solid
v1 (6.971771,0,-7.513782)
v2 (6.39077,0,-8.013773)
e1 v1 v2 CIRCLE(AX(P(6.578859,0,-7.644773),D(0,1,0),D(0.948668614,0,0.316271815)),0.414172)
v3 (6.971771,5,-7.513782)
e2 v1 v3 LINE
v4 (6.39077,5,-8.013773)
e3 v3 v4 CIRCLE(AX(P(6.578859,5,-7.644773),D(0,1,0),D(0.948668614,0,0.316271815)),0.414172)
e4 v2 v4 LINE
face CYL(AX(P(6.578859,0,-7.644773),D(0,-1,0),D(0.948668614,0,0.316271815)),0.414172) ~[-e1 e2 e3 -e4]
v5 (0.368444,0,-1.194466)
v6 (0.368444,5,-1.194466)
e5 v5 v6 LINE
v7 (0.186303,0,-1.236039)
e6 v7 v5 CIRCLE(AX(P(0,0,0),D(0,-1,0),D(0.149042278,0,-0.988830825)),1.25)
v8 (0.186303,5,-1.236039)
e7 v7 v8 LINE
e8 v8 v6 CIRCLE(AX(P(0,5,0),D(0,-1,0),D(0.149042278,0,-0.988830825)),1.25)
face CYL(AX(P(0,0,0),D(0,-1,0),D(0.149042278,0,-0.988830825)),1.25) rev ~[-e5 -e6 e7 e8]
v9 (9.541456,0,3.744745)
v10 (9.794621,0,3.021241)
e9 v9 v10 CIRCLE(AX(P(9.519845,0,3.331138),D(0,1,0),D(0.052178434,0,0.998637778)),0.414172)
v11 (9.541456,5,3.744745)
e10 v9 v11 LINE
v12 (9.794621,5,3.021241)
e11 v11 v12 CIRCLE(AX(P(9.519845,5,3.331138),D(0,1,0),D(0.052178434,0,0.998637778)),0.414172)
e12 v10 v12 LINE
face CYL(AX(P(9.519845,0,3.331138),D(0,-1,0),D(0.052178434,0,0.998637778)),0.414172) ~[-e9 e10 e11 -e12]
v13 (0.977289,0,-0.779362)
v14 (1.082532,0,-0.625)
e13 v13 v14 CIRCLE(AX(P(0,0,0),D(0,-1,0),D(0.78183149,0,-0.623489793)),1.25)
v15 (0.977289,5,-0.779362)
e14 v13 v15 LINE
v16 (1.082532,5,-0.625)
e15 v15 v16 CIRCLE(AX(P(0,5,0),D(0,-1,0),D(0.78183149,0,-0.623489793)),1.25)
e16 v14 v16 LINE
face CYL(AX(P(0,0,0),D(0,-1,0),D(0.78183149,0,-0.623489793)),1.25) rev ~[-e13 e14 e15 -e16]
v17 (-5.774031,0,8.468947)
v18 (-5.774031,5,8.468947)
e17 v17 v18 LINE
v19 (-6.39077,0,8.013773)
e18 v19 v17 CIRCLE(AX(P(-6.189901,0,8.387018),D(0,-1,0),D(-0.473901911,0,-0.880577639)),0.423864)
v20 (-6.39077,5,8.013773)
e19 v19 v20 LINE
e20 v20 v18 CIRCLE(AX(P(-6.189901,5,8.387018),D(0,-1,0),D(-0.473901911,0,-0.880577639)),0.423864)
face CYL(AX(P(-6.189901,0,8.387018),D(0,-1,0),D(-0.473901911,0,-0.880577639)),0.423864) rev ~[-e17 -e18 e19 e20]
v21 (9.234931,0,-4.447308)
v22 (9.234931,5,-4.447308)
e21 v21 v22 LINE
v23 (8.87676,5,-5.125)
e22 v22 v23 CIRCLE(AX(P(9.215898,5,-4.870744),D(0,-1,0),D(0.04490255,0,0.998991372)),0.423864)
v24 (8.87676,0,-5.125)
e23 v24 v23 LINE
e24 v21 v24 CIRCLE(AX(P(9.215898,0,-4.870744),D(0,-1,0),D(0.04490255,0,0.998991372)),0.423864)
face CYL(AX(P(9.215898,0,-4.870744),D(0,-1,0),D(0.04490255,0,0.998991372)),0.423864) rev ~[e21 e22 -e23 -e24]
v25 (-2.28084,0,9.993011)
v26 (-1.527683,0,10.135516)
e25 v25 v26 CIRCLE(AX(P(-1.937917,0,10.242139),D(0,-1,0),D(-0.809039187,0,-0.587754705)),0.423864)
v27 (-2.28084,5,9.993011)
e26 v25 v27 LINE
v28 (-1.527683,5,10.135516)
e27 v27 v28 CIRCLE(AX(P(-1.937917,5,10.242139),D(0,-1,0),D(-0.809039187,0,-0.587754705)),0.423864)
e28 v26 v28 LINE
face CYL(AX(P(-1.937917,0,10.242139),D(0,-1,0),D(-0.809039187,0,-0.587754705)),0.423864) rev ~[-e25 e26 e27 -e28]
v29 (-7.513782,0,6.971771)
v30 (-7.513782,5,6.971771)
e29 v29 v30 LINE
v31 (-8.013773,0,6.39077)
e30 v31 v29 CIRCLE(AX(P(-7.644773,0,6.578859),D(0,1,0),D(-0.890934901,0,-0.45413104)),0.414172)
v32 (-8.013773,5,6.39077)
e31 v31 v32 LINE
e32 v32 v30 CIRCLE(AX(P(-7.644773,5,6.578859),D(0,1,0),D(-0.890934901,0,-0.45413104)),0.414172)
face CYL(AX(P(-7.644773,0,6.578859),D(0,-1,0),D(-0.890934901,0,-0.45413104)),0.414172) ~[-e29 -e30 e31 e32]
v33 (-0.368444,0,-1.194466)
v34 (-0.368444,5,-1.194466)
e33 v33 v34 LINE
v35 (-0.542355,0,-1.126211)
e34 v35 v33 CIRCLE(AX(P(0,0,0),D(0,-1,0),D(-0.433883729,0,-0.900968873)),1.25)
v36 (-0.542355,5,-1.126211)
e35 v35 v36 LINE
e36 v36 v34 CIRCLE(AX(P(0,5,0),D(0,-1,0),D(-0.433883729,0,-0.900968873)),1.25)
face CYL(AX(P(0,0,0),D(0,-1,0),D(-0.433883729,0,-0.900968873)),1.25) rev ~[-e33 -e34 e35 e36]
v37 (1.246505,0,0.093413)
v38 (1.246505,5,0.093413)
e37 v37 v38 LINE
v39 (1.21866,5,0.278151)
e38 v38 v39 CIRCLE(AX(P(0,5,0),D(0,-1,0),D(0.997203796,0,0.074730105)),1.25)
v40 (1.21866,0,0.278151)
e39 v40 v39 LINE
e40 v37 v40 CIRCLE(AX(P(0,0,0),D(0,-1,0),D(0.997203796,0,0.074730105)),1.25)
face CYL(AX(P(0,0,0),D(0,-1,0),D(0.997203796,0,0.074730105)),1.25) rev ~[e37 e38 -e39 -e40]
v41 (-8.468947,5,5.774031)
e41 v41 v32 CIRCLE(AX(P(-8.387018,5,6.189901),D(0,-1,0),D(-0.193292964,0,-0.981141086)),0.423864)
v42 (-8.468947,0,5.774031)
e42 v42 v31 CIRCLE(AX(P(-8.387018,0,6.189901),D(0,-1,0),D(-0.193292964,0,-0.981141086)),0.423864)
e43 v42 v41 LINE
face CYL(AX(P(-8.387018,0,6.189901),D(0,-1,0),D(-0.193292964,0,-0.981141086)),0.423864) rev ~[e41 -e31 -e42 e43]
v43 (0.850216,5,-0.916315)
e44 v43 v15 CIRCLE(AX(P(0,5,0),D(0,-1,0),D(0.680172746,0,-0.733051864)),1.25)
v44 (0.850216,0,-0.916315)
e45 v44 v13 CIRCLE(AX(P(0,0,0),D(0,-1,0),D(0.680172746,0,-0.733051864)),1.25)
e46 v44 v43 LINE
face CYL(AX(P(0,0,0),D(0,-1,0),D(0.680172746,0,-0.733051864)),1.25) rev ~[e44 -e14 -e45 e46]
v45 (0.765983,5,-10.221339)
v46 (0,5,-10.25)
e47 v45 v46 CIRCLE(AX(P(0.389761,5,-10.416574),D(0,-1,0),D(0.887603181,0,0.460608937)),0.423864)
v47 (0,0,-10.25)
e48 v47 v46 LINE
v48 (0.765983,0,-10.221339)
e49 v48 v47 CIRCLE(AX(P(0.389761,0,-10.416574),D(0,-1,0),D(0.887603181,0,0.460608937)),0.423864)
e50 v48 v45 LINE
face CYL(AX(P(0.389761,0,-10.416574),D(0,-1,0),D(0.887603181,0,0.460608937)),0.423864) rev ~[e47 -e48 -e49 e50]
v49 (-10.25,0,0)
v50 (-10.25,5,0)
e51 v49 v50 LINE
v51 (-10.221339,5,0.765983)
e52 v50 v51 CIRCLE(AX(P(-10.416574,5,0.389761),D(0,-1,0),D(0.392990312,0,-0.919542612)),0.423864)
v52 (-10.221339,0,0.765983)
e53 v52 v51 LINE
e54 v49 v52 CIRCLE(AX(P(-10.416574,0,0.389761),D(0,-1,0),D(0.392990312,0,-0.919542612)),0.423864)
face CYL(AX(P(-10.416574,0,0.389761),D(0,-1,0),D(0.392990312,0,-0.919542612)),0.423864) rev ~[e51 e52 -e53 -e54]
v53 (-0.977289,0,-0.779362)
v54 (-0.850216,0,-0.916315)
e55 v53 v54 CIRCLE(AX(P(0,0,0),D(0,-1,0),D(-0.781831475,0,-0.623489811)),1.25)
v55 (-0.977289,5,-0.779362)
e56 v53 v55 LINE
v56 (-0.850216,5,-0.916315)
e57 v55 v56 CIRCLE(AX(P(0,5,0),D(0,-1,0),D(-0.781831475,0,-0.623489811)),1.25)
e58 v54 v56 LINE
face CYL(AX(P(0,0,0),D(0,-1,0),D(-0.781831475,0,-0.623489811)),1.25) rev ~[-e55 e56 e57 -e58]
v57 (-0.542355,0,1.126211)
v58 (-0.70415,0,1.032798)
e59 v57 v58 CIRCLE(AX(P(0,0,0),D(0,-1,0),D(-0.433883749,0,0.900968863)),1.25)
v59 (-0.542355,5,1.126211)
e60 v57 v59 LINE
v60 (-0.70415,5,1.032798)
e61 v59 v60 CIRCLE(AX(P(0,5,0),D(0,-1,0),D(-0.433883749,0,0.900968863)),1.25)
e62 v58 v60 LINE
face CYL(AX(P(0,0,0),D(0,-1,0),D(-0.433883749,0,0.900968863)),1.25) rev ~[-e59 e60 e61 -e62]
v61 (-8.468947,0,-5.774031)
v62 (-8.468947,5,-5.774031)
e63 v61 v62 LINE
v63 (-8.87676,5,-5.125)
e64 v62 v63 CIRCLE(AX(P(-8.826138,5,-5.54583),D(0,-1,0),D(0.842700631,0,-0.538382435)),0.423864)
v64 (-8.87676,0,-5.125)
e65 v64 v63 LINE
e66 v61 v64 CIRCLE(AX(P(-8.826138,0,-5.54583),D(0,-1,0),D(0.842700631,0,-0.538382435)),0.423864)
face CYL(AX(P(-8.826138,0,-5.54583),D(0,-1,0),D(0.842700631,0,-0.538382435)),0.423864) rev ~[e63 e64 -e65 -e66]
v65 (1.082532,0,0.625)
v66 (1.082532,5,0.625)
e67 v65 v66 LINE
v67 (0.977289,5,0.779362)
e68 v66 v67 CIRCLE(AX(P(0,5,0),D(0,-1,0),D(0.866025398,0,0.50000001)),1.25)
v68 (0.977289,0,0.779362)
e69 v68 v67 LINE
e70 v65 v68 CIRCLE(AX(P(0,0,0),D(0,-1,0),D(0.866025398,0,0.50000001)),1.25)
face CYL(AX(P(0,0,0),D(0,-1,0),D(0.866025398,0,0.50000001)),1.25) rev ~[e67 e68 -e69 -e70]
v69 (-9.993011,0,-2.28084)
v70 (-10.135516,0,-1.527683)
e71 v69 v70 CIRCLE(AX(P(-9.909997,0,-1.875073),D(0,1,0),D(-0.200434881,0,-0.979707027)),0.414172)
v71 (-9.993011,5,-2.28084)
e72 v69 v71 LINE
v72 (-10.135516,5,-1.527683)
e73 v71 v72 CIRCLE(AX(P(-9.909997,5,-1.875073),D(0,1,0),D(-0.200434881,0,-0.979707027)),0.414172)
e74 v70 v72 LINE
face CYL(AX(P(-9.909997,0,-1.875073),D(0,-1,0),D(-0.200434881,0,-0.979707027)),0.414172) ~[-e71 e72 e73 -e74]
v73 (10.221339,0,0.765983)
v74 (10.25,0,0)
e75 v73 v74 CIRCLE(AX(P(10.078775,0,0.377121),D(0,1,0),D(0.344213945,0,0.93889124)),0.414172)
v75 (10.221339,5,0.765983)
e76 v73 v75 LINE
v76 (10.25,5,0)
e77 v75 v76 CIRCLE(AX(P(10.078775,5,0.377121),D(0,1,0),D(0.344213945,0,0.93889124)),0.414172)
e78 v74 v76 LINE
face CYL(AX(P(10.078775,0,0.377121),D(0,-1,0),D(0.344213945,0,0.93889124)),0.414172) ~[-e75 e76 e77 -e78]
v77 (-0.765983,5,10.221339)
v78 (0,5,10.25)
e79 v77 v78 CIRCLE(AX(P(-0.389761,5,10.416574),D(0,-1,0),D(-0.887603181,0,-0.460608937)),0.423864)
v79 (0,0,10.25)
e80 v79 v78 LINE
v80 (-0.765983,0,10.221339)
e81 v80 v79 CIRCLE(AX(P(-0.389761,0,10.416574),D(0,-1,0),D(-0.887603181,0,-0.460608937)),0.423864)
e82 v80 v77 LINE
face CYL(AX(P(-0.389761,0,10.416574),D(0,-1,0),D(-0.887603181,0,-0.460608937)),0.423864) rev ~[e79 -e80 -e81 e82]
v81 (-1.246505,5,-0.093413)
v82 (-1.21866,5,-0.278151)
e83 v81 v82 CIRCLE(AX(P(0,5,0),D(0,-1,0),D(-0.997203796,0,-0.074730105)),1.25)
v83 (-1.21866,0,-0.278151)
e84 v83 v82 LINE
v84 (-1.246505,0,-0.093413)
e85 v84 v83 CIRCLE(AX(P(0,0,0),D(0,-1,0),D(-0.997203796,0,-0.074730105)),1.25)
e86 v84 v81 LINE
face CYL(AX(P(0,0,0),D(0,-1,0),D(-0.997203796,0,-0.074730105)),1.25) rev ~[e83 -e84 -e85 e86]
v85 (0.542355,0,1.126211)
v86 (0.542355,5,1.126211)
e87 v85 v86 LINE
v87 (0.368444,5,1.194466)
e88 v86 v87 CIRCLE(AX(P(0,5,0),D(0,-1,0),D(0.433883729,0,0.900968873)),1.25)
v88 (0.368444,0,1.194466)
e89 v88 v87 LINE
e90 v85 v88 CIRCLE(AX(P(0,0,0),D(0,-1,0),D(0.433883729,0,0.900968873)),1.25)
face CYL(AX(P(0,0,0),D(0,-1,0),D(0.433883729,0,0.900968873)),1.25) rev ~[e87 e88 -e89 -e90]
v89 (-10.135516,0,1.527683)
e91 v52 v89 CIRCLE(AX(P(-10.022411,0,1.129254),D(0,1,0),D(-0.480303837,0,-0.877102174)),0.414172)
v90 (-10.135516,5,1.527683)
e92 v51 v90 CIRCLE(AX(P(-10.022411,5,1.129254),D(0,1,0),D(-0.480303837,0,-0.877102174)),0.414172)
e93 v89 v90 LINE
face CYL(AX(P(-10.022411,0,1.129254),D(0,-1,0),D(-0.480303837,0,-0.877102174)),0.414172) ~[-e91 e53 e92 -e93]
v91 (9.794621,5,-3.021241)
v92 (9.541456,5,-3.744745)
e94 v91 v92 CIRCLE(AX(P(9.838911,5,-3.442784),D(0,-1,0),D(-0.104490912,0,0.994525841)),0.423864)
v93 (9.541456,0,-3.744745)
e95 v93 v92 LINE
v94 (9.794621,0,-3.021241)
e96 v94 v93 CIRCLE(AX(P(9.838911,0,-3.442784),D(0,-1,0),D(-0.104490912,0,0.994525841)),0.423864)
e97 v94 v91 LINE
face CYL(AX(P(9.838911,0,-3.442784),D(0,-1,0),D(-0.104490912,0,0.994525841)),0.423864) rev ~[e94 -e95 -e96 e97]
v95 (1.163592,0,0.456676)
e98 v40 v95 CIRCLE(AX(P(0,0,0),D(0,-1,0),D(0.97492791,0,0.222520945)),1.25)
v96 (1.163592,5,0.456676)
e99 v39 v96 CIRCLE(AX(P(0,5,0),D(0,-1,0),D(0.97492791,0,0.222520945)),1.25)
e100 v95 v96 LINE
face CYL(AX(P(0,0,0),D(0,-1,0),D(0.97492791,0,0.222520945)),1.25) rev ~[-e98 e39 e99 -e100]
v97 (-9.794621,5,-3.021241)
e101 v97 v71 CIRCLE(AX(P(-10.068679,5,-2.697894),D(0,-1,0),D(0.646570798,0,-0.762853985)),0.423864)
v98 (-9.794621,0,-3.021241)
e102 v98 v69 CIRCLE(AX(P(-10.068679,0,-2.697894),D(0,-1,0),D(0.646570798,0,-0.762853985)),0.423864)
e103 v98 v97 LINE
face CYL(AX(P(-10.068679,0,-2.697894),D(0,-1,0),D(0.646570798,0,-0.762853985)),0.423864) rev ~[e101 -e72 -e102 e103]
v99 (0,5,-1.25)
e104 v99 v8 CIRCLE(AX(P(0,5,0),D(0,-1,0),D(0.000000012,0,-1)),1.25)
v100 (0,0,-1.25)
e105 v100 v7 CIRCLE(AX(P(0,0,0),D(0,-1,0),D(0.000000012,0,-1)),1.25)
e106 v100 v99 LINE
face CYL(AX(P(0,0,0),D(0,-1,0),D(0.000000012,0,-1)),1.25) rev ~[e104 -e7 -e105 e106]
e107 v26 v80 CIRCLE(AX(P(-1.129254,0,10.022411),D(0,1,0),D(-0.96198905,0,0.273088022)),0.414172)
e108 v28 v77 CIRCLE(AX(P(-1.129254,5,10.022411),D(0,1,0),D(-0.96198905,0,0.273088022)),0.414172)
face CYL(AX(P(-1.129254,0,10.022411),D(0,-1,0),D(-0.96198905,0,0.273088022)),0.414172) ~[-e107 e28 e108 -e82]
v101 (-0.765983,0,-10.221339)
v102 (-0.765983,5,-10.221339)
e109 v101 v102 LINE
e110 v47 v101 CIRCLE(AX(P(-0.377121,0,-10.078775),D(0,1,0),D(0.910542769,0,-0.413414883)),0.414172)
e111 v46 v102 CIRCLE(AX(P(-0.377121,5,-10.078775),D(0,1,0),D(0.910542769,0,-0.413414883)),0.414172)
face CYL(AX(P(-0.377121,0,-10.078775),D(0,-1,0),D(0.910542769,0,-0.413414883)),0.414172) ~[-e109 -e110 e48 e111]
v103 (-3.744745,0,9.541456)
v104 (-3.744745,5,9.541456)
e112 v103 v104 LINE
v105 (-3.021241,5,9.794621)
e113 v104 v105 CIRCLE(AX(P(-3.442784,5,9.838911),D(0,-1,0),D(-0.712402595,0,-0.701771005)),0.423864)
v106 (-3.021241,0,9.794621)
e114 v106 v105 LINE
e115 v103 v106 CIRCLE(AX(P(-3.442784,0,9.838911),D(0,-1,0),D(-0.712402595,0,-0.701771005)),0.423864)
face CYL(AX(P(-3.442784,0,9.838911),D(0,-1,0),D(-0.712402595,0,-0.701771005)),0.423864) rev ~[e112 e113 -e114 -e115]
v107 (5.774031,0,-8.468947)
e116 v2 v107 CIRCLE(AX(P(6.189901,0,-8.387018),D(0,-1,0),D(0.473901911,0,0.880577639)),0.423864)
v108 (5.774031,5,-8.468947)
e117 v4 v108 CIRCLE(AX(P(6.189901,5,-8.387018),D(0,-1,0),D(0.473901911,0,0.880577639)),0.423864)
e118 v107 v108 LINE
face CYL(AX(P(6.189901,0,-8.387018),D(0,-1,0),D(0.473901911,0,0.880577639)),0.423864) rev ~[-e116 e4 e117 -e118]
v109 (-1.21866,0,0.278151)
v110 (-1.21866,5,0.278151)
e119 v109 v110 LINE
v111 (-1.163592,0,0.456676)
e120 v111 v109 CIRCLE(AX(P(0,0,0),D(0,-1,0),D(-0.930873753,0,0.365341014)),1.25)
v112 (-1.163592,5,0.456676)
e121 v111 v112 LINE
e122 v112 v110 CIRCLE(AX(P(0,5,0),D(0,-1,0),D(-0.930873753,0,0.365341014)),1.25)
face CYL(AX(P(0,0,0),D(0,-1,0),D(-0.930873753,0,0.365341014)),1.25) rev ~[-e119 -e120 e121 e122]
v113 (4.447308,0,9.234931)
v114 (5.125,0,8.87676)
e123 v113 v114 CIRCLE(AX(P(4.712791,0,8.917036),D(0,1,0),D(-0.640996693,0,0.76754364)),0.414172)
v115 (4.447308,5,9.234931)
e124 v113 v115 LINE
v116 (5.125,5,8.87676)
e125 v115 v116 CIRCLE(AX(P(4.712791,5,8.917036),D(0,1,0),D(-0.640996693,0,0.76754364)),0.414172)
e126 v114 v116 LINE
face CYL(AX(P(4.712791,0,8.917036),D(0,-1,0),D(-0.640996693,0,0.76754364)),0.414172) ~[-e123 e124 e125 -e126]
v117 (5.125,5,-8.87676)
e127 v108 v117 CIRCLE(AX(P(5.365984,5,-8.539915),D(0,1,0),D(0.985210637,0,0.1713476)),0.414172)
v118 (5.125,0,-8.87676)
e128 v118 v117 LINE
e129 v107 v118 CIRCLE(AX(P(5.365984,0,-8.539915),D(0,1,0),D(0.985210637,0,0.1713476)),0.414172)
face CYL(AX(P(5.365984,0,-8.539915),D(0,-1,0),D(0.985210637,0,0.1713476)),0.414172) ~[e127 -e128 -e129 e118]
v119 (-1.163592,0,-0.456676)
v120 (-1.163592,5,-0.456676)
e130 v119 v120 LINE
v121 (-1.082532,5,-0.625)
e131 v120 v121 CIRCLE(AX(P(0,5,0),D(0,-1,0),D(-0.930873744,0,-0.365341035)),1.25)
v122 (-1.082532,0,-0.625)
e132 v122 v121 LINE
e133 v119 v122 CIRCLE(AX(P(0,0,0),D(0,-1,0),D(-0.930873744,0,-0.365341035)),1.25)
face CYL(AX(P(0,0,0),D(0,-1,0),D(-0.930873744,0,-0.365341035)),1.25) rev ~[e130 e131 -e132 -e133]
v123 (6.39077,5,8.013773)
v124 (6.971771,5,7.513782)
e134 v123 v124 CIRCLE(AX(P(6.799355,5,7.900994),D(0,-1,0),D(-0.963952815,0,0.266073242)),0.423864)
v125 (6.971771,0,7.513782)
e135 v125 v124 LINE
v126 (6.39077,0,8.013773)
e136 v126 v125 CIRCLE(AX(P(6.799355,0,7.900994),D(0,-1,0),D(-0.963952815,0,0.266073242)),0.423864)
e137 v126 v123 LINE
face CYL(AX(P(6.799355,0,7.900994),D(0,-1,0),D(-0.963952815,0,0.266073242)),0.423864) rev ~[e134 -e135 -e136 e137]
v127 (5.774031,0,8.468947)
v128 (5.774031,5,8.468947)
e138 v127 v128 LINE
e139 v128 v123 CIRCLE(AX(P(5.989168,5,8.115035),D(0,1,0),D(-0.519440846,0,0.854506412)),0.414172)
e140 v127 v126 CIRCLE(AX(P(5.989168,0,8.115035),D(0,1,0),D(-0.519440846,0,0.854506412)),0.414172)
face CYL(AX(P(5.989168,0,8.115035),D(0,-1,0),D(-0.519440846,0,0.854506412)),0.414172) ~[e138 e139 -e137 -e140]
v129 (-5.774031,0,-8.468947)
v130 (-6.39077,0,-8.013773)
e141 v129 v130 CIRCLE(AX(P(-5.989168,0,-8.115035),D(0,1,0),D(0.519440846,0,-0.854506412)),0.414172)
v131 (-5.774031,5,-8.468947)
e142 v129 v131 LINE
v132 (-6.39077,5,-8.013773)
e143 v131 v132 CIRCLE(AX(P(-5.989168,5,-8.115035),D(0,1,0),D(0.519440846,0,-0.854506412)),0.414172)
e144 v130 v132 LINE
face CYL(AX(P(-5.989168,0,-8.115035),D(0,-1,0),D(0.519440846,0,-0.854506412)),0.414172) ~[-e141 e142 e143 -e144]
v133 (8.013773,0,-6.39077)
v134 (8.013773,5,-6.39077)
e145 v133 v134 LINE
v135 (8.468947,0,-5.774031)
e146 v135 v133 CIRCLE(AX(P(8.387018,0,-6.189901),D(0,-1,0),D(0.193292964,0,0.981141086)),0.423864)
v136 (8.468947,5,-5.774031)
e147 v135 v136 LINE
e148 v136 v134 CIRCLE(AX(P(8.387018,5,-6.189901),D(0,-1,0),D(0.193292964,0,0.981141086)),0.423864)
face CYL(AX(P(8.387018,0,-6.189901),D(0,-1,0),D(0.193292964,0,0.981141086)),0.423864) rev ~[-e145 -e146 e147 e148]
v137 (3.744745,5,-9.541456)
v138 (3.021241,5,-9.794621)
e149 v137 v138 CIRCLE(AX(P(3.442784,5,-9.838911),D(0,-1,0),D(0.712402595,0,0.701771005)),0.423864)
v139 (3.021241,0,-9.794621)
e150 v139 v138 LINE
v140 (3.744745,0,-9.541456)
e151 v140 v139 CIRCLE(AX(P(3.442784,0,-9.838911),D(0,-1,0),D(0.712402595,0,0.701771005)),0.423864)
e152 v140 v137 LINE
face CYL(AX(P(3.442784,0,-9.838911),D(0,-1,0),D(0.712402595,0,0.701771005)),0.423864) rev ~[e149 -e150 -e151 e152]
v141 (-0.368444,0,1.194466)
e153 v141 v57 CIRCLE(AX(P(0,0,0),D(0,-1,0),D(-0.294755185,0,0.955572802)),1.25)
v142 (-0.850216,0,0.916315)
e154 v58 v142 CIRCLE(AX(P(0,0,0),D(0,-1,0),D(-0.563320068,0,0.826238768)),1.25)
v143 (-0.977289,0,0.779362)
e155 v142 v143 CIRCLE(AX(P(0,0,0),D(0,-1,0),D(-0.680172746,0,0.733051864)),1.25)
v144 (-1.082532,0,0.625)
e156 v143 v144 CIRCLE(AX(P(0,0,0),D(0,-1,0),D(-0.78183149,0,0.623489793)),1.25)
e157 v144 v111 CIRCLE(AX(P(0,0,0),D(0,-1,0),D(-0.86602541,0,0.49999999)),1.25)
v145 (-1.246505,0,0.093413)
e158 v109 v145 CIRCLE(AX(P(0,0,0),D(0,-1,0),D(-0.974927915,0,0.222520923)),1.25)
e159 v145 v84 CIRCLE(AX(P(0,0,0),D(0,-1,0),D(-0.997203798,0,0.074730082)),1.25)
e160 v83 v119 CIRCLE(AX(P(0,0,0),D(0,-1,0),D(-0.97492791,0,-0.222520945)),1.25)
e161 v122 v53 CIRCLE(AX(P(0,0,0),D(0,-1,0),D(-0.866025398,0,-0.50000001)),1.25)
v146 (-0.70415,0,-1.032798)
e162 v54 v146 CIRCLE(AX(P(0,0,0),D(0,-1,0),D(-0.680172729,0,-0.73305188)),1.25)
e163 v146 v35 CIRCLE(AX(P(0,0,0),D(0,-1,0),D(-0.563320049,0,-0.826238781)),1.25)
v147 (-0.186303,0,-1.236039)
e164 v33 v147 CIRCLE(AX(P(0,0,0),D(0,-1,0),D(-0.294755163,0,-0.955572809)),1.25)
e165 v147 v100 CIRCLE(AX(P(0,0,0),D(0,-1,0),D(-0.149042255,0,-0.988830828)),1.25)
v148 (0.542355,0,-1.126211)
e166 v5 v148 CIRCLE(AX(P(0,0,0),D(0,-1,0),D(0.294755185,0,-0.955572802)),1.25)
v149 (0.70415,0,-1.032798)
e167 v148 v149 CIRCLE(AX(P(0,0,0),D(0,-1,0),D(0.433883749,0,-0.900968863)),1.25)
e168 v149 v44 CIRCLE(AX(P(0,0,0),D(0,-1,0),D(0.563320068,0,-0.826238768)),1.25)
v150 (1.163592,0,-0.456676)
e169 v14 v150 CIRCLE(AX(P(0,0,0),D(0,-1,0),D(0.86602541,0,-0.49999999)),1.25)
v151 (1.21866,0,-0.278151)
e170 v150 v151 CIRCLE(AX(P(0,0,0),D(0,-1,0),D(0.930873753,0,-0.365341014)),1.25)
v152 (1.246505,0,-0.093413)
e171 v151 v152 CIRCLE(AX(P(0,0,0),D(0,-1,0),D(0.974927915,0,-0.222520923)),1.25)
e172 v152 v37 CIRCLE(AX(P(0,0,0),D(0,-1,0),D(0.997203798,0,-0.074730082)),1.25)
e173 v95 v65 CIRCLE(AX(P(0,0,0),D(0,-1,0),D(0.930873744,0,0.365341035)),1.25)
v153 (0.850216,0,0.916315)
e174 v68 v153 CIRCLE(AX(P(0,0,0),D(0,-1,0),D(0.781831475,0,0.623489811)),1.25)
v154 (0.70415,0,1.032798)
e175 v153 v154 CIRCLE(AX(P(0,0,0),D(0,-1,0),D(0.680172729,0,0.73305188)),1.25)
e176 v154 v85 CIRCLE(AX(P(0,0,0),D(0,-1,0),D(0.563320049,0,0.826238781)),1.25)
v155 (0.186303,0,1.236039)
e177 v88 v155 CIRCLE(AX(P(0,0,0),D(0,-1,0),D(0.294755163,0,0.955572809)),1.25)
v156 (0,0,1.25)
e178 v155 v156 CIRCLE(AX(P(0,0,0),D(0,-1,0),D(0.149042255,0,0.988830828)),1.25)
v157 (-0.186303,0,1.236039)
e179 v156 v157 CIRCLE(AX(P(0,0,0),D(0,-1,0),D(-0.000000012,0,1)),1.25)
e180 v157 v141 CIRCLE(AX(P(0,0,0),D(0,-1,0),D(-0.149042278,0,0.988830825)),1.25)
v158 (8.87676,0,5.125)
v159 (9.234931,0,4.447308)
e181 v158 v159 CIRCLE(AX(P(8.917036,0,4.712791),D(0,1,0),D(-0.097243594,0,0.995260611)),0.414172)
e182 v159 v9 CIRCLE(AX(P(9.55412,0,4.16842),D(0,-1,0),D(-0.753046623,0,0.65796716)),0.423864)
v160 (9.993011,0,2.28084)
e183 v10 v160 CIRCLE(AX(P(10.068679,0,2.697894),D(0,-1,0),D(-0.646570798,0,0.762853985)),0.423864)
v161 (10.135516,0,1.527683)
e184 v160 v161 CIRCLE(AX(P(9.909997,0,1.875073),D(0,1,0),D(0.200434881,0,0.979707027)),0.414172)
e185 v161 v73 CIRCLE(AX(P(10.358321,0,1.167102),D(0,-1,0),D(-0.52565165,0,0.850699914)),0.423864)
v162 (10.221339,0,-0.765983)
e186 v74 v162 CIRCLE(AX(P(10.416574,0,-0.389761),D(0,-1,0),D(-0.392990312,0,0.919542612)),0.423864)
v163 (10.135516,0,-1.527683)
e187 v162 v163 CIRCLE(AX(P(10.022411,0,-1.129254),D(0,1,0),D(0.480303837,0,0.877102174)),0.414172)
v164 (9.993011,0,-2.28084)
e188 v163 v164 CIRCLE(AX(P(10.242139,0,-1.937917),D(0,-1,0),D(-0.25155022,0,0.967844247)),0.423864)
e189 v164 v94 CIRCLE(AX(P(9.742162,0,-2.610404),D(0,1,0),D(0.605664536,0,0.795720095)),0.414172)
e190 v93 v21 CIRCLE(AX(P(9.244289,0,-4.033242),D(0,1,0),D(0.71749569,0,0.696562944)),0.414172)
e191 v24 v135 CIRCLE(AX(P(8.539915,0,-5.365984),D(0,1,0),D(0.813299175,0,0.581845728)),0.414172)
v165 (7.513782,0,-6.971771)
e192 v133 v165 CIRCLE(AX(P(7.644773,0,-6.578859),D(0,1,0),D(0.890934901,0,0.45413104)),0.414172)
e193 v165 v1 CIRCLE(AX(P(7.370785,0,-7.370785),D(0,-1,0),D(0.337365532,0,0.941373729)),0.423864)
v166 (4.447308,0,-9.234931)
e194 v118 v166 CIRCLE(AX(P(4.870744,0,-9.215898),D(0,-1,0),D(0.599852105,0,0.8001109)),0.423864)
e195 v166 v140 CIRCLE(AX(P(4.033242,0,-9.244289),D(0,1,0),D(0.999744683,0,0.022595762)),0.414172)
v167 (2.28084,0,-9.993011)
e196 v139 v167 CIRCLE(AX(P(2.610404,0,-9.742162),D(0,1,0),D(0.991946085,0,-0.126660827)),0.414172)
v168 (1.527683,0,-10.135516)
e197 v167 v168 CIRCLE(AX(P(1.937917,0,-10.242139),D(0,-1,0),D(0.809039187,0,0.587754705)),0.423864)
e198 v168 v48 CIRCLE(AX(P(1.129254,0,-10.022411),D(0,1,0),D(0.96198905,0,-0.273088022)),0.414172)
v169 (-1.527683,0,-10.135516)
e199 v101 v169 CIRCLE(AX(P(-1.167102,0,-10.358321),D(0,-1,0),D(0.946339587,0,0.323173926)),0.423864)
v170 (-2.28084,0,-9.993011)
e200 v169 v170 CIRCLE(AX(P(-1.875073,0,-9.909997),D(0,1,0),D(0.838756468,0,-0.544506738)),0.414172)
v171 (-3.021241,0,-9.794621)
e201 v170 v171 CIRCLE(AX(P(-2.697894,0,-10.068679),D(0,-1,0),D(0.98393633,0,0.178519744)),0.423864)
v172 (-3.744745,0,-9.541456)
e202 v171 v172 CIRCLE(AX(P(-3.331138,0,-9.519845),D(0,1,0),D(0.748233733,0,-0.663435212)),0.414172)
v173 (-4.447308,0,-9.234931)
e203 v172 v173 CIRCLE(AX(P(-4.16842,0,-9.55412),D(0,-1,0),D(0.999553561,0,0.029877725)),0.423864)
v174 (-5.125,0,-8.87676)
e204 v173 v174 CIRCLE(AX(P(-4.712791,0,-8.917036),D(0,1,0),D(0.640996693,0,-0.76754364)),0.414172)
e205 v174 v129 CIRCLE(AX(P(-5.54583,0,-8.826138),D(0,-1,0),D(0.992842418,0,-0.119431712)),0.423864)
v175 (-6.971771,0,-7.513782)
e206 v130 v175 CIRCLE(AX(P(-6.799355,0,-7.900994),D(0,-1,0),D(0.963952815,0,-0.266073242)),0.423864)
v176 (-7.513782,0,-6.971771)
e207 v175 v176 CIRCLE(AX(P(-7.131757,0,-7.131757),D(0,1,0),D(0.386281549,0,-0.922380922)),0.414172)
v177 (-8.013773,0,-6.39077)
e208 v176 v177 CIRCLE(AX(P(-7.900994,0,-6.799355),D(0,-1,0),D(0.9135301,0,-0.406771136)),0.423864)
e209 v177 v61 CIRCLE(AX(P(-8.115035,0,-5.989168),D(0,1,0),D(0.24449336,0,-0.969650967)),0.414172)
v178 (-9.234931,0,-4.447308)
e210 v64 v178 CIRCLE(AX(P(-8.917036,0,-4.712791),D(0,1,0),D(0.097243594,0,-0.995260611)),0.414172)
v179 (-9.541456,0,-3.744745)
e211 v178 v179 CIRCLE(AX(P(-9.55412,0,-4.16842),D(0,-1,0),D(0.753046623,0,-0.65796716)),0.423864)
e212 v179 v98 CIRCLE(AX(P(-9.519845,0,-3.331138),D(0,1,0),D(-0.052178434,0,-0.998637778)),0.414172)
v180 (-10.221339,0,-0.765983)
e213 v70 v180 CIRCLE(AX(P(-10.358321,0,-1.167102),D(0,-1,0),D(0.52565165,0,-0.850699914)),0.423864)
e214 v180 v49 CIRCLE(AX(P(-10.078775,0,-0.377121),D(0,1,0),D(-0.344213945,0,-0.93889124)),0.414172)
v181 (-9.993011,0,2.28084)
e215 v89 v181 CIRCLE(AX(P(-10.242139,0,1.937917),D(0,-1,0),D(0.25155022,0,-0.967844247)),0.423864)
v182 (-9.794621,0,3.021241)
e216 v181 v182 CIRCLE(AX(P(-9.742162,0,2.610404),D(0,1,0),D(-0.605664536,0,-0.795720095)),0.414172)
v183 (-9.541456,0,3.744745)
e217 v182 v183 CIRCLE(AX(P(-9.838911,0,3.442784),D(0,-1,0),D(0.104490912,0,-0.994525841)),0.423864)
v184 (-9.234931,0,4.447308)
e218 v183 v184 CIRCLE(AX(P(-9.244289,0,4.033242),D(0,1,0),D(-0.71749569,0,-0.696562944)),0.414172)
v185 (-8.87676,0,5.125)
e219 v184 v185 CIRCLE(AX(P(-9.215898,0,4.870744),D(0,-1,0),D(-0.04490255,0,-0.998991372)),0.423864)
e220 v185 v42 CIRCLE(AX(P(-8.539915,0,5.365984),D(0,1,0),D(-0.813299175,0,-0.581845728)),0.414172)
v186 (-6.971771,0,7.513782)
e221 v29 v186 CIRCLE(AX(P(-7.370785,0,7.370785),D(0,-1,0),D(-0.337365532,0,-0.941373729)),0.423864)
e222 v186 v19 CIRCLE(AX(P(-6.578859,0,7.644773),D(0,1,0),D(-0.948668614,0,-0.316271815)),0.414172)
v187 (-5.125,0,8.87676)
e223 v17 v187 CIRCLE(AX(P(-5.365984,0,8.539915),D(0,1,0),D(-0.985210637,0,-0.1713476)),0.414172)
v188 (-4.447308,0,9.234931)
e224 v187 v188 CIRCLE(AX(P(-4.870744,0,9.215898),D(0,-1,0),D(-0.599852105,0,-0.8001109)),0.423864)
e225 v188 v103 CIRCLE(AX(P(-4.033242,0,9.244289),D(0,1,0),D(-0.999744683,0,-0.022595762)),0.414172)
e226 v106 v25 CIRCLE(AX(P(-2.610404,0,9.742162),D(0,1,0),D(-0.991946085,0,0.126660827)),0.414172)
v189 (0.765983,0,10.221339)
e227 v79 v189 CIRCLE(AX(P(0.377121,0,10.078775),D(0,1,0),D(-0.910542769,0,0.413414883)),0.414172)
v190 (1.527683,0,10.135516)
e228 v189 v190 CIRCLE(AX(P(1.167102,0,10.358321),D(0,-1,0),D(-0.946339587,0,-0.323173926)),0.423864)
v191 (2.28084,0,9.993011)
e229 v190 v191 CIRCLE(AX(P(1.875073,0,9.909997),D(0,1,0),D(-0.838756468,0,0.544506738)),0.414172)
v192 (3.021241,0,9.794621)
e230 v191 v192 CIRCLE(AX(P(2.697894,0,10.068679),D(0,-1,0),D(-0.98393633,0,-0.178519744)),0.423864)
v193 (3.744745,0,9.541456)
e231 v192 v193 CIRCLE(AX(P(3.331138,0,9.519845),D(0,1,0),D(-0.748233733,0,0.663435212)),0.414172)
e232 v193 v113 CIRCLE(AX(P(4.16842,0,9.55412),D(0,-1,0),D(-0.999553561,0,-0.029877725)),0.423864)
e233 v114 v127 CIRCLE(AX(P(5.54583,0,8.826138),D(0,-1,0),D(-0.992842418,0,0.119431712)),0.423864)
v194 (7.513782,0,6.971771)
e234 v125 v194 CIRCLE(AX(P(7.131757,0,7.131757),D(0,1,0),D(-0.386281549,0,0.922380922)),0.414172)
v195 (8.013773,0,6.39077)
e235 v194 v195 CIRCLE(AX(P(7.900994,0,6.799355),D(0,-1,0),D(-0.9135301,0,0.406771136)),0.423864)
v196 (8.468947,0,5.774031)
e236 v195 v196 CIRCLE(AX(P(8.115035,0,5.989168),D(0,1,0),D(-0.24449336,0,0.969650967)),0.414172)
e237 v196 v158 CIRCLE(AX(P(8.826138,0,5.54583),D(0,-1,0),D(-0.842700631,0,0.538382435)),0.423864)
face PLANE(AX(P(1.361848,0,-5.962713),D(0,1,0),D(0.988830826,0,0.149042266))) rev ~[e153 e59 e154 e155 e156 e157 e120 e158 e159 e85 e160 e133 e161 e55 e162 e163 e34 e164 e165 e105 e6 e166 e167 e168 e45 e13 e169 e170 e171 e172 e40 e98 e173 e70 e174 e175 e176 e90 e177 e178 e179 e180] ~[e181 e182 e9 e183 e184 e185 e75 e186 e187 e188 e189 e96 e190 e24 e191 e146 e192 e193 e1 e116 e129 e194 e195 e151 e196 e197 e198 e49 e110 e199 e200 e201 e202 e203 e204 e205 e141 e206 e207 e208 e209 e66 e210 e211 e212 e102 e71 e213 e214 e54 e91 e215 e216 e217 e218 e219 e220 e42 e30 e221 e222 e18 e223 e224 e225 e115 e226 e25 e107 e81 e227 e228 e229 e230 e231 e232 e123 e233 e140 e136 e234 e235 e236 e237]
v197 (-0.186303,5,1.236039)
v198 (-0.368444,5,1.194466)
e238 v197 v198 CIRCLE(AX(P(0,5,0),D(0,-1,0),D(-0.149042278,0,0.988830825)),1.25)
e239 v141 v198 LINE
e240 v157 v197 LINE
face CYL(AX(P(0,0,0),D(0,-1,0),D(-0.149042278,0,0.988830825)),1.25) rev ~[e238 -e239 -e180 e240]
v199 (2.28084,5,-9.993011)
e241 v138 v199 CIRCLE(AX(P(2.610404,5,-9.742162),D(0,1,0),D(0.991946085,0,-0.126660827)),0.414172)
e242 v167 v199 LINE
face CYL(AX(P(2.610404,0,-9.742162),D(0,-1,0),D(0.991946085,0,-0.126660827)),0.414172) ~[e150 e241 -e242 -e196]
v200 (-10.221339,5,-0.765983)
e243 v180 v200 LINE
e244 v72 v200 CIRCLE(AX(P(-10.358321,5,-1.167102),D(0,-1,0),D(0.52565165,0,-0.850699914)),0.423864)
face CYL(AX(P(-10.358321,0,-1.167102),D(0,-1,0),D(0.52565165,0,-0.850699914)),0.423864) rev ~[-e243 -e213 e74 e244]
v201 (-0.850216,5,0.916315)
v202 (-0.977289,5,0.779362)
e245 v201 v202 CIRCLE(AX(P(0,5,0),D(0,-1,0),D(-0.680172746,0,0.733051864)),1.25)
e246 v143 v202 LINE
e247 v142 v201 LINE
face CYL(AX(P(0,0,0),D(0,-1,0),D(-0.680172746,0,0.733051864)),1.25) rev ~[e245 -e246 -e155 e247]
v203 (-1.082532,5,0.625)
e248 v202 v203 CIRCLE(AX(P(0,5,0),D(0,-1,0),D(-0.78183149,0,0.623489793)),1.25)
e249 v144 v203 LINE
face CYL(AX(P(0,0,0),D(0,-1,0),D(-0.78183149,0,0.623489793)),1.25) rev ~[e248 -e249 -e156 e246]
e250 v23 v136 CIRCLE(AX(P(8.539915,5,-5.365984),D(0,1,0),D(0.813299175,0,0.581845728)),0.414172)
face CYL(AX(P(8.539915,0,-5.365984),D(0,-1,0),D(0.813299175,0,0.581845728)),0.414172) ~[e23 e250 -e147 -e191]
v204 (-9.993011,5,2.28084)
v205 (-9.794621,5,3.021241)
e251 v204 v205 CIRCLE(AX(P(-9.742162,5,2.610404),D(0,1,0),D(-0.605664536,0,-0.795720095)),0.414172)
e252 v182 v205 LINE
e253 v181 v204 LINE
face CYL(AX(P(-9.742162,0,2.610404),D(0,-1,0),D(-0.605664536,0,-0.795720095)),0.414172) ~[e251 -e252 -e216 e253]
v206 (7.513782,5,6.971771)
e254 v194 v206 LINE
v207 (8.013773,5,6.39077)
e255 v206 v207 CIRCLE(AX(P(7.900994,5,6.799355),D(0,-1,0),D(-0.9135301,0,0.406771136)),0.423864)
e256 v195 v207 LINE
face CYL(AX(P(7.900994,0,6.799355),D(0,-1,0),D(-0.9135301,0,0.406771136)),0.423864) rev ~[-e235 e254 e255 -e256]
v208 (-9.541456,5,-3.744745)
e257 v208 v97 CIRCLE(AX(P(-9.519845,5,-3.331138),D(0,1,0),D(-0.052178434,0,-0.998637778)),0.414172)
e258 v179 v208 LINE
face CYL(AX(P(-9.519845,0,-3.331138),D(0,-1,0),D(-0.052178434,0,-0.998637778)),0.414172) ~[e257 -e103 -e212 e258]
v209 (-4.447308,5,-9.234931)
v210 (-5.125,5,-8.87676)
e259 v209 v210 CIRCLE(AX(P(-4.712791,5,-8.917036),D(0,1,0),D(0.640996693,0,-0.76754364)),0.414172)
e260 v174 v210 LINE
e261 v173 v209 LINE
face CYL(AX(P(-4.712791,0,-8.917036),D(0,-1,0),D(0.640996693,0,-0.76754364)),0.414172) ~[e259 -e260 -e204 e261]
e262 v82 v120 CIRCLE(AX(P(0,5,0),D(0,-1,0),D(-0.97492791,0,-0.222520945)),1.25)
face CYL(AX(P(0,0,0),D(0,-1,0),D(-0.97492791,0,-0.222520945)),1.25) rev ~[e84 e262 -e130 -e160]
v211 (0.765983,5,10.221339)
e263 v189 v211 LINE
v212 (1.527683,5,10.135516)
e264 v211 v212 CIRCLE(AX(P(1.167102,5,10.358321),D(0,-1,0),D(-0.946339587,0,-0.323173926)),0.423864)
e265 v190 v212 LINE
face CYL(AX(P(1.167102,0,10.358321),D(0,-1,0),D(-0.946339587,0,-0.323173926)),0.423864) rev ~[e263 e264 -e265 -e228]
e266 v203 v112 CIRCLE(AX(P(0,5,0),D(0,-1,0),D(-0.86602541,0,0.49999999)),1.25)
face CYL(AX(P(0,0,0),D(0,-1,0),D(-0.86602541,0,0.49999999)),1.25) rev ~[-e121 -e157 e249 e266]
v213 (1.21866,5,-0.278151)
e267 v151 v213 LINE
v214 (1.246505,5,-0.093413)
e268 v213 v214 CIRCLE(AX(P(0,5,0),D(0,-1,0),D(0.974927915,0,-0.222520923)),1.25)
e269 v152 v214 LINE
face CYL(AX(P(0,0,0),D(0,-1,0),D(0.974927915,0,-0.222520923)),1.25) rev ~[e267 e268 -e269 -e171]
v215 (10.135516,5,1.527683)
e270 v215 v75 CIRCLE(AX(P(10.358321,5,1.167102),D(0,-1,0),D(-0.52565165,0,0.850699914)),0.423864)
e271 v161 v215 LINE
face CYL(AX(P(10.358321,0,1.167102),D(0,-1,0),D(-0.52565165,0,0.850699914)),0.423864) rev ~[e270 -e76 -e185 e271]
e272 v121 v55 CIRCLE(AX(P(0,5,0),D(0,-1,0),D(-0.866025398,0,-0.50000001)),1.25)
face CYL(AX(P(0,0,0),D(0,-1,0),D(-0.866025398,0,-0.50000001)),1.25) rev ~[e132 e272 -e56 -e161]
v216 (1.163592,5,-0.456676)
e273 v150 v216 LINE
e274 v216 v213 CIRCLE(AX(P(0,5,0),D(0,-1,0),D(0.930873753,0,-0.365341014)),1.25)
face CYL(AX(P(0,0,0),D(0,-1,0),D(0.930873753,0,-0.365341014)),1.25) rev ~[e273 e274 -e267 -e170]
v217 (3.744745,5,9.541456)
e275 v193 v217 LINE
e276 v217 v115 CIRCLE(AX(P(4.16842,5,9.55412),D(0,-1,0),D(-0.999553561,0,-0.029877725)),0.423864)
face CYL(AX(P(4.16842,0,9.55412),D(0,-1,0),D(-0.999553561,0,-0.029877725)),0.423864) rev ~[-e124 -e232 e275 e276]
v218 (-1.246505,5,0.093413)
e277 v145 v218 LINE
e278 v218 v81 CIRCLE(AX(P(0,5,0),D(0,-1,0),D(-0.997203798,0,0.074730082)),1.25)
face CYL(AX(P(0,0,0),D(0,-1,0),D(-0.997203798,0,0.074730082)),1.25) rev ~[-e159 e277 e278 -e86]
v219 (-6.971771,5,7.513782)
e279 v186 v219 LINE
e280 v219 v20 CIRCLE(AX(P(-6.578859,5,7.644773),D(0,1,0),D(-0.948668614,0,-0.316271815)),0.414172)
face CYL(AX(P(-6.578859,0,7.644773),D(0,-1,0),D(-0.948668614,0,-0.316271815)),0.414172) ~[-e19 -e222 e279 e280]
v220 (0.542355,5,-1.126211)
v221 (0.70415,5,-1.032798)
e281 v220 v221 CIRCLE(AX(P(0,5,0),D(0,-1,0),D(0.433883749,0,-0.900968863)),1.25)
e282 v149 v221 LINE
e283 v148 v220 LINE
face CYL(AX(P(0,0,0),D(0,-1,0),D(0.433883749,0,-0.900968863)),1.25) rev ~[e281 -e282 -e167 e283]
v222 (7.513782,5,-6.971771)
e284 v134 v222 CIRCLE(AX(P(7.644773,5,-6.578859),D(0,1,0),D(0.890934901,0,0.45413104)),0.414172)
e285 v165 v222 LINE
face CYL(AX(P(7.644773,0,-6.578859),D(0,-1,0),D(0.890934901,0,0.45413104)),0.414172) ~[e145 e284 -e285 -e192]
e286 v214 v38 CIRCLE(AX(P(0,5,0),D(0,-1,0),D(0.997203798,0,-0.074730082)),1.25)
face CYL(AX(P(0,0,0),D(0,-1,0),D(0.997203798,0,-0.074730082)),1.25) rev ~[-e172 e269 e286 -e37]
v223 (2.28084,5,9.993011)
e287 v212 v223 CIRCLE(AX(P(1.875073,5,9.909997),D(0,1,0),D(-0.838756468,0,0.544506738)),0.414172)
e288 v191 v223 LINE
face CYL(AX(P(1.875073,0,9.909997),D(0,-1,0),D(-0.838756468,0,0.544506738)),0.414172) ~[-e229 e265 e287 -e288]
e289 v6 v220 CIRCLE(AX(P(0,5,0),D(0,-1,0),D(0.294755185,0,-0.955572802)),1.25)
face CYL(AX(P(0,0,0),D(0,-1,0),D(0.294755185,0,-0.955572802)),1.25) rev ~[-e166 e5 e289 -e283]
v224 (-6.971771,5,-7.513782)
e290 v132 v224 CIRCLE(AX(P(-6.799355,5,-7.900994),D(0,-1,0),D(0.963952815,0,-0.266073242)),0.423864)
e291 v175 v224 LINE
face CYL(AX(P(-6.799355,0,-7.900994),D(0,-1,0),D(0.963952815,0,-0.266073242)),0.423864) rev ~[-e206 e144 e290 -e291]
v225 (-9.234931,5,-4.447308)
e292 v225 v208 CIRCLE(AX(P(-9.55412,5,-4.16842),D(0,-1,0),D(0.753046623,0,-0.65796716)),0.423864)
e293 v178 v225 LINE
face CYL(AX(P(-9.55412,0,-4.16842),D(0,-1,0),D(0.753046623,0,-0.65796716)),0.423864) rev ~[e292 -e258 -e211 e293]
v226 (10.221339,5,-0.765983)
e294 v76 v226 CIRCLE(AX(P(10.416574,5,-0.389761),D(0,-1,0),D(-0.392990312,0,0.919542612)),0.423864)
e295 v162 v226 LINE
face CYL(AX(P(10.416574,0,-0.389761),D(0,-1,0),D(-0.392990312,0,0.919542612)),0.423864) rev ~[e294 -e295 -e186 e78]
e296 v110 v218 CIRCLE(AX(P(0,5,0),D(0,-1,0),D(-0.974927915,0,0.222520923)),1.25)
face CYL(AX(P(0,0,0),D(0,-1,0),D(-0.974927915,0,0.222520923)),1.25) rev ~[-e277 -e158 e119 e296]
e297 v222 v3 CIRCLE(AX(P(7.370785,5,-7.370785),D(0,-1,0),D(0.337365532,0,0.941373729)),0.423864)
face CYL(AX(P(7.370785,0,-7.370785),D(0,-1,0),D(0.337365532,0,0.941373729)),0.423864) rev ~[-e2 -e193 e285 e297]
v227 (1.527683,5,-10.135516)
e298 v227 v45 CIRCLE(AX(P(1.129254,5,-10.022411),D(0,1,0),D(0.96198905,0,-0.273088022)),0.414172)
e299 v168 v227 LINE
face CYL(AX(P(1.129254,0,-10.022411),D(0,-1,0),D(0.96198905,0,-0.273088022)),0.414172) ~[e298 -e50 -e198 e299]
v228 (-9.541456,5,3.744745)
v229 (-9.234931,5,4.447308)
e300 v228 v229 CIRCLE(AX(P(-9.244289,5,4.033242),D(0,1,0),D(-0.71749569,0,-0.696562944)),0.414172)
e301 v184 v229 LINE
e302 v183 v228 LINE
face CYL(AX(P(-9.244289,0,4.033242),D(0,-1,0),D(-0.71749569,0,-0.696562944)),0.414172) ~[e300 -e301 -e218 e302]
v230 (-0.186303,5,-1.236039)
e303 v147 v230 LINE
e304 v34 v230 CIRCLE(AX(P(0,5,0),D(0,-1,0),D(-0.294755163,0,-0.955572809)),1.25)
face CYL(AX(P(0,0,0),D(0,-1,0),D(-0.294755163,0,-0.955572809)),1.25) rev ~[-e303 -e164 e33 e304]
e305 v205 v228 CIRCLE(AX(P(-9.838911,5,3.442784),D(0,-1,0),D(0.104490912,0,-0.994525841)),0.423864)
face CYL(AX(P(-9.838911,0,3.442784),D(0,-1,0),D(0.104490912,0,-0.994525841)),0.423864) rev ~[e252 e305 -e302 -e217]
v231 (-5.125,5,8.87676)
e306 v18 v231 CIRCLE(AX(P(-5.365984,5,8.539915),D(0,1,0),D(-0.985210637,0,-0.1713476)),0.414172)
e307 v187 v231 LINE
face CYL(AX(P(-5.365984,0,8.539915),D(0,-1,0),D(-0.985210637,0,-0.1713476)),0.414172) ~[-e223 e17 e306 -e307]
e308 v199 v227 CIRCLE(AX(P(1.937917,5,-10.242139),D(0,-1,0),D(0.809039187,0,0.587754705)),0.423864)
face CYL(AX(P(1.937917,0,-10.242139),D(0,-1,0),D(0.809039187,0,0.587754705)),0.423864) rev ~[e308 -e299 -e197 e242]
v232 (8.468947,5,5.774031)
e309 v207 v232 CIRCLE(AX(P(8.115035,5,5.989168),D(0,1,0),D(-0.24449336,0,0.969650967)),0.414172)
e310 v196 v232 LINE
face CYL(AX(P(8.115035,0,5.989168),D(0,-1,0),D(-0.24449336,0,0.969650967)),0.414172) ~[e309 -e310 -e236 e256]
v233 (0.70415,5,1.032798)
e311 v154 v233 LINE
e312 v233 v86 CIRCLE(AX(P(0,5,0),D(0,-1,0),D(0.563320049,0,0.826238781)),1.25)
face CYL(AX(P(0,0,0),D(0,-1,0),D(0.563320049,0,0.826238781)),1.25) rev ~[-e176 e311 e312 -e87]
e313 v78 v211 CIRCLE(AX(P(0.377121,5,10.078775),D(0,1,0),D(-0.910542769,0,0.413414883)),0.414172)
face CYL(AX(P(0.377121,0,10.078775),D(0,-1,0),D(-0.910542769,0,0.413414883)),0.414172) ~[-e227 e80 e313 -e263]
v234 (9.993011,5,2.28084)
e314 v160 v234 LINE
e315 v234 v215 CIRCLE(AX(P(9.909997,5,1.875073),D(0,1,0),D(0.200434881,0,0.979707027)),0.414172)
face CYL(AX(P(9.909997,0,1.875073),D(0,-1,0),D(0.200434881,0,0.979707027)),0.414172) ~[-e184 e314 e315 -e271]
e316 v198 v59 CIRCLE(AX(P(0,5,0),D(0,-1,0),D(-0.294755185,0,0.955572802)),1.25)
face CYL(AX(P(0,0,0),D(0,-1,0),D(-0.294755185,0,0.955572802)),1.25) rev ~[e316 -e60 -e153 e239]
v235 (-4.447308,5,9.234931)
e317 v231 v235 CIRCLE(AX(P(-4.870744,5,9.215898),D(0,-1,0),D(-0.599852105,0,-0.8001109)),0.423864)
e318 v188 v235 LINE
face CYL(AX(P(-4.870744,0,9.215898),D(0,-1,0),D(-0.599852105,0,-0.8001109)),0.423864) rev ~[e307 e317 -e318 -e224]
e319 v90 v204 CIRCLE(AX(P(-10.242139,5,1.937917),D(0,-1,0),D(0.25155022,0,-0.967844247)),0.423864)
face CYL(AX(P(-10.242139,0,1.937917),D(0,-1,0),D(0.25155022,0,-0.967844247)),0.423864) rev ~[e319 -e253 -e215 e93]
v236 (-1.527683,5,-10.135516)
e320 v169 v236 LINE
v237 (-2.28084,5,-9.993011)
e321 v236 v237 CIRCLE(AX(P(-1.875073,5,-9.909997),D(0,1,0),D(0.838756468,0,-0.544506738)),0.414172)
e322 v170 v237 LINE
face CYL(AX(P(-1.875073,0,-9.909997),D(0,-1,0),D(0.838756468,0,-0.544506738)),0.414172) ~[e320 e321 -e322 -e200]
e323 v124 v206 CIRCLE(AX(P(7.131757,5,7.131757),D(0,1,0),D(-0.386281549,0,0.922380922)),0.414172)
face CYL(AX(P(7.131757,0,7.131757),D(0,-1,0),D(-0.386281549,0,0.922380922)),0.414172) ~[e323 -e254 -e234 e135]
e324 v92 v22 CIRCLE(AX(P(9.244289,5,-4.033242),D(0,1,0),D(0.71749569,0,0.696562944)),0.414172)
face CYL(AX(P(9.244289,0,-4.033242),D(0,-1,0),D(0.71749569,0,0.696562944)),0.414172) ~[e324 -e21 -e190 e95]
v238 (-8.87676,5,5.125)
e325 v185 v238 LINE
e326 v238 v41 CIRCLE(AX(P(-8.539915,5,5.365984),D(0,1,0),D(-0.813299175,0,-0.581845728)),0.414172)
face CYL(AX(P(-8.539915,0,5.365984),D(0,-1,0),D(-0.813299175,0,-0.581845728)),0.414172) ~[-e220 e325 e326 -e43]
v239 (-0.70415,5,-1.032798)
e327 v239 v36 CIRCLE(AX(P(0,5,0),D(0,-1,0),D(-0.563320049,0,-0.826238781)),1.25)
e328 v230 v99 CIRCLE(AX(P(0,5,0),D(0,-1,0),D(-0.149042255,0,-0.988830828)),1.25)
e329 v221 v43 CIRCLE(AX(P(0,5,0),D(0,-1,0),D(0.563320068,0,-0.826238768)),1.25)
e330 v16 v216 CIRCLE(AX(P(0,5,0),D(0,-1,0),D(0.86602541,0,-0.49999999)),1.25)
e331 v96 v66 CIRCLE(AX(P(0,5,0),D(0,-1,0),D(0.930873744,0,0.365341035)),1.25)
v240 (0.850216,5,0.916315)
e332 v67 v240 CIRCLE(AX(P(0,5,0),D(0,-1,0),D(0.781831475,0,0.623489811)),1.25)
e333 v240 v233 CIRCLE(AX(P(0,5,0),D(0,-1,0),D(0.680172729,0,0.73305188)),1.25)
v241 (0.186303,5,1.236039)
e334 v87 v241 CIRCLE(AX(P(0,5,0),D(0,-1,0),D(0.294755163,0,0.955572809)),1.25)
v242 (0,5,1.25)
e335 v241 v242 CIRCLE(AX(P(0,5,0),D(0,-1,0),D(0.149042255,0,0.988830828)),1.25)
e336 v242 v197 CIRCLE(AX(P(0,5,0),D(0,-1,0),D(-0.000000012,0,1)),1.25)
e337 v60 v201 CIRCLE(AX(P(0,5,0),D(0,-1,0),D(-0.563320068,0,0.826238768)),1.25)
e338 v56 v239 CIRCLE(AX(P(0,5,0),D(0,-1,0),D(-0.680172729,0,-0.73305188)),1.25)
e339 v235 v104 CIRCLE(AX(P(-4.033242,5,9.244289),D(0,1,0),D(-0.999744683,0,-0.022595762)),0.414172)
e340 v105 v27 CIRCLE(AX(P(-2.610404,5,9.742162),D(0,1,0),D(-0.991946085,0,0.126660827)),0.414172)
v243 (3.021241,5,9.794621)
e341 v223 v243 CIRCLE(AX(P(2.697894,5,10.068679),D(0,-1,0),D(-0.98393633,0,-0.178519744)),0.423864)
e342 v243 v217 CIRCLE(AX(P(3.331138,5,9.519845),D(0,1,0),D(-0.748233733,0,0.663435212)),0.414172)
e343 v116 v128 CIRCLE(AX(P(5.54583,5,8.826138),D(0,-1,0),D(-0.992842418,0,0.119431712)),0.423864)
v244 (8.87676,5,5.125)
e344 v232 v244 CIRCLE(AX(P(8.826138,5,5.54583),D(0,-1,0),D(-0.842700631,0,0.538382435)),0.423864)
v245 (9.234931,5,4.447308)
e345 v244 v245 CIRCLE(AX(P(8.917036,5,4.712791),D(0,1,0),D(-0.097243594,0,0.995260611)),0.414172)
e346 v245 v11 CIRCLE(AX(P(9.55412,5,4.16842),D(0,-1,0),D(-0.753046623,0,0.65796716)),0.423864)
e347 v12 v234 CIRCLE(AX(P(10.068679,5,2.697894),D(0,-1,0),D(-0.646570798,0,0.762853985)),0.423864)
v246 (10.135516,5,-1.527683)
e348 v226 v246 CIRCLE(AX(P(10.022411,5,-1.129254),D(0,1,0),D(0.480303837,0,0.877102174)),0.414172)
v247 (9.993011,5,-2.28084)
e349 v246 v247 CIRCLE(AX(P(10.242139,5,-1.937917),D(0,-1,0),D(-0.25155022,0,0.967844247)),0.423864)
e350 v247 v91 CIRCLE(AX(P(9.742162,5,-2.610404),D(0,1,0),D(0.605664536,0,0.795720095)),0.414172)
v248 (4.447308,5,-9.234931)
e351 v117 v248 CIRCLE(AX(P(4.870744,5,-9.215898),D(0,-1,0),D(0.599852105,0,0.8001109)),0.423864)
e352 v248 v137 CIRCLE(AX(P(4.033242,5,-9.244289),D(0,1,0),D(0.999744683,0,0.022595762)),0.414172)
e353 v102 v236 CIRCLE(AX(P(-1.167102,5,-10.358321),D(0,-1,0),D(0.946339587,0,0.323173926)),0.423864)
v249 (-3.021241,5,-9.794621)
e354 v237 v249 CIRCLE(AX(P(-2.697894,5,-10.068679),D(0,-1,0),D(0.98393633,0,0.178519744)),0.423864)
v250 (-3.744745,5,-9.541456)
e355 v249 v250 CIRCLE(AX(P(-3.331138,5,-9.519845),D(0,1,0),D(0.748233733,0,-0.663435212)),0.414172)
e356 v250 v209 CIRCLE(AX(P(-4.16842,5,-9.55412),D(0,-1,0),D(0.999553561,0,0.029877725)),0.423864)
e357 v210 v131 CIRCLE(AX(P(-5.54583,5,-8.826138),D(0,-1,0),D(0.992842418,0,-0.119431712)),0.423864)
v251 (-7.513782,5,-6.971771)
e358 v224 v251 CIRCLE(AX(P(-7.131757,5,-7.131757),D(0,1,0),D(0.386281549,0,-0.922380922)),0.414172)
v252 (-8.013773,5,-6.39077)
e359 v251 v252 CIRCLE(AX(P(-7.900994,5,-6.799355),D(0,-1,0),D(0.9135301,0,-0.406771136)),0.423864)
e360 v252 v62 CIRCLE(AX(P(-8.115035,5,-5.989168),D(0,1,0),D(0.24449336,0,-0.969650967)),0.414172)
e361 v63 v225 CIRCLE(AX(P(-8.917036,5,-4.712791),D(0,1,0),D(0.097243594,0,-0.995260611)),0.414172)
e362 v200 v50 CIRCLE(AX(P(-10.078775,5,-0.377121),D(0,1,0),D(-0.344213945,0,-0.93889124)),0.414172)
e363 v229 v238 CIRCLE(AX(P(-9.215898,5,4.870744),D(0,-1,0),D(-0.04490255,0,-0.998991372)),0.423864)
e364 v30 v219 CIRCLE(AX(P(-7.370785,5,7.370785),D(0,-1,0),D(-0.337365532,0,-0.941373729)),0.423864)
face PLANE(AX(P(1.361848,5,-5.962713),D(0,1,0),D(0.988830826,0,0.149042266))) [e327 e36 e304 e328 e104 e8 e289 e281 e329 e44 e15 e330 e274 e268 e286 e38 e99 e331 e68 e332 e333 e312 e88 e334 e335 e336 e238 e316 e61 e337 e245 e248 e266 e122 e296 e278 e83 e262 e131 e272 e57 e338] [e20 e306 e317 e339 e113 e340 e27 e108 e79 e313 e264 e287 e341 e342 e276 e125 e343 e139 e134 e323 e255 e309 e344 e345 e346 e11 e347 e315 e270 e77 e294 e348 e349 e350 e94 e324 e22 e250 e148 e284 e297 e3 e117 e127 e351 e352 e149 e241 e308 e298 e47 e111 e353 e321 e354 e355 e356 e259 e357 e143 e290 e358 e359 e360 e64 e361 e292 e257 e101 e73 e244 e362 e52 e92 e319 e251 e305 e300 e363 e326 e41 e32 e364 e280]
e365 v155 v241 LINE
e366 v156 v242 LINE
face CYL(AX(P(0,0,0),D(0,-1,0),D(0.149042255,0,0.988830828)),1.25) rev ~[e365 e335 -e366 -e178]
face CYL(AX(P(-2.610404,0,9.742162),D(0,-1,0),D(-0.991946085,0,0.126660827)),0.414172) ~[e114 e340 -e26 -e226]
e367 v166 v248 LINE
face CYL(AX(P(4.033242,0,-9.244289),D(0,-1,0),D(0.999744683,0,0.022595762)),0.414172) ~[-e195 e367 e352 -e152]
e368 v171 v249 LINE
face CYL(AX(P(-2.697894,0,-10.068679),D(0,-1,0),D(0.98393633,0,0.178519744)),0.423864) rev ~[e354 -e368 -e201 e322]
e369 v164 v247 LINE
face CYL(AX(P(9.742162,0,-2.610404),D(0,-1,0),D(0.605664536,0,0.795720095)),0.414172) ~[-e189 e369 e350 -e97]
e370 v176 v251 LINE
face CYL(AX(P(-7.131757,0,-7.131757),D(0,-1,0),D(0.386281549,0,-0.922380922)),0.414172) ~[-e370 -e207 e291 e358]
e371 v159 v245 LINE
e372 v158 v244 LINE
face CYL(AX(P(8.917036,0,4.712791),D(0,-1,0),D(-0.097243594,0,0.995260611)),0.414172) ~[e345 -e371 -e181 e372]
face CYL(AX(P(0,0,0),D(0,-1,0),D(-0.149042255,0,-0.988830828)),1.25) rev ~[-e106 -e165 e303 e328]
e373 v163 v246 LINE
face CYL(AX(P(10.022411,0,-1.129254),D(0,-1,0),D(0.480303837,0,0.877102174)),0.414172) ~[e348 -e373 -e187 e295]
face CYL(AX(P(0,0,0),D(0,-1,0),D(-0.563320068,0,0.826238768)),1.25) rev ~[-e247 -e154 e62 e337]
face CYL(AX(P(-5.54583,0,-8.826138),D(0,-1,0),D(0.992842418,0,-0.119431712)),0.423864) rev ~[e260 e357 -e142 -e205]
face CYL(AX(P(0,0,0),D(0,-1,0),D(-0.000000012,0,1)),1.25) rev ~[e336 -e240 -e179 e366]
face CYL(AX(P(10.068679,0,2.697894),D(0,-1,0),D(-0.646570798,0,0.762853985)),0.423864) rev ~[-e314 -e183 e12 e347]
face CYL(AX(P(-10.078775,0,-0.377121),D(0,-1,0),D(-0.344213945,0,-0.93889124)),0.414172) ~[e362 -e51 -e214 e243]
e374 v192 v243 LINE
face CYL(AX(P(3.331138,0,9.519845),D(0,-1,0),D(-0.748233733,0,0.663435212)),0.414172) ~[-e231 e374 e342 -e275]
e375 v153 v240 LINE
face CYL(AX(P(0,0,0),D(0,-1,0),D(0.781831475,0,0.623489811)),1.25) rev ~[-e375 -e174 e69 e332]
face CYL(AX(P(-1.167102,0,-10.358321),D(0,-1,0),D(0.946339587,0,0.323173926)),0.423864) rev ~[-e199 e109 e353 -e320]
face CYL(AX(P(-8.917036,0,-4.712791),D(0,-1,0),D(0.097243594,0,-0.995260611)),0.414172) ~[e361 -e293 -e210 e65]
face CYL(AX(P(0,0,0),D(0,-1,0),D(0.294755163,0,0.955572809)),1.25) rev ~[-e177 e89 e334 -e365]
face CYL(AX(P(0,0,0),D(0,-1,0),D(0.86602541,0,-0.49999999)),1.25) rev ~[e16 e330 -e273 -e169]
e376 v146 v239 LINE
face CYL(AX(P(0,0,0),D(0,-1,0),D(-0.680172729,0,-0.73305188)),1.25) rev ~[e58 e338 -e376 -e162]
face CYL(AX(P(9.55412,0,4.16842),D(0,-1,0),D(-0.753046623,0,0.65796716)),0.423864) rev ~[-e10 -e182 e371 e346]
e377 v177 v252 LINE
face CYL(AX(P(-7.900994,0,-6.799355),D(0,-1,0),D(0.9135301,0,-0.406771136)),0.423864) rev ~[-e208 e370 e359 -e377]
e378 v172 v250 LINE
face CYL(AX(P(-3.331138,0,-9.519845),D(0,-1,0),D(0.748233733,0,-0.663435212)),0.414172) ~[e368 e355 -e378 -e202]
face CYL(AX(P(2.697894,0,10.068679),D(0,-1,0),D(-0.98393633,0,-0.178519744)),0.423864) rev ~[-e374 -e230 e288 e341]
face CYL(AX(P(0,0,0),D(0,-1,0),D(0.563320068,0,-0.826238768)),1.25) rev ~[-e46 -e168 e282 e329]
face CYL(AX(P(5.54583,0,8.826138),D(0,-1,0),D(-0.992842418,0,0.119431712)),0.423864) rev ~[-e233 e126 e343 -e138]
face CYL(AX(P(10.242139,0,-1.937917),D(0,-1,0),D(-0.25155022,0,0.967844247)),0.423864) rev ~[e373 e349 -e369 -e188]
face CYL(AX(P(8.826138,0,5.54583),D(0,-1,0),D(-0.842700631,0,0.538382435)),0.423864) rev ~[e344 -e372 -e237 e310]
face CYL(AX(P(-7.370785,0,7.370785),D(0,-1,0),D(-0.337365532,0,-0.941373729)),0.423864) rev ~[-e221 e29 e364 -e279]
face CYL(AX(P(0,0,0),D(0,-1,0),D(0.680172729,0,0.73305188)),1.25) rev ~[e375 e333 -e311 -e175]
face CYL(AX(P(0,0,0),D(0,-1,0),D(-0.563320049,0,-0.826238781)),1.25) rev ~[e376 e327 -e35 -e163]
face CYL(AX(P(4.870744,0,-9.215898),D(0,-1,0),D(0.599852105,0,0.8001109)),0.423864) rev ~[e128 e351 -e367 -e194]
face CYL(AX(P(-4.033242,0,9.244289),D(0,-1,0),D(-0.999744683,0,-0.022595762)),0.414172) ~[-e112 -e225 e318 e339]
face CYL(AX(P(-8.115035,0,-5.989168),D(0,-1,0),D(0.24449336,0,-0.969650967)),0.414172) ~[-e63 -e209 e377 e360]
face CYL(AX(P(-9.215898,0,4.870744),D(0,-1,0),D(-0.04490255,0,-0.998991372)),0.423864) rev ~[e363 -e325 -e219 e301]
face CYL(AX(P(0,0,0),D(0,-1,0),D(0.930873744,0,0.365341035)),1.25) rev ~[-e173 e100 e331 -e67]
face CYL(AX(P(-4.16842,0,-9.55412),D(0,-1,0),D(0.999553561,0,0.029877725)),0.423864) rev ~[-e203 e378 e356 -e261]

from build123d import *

# Parameters (mm, degrees)
BOSS_EXTRUDE1_DEPTH = 5
CIRPATTERN1_COUNT   = 42


with BuildPart() as part:
    # Sketch1 → Boss-Extrude1 (new body)
    with BuildSketch(Plane(origin=(0, 0, 0), x_dir=(1, 0, 0), z_dir=(0, 1, 0))):
        with BuildLine():
            Line((0, 10.25), (0, 1.25))
            ThreePointArc((0, 1.25), (0.093412617, 1.246504746), (0.186302833, 1.236038533))
            Line((0.186302833, 1.236038533), (1.527683228, 10.135515969))
            ThreePointArc((1.527683228, 10.135515969), (1.175626999, 10.433978204), (0.765983459, 10.221338921))
            ThreePointArc((0.765983459, 10.221338921), (0.373911943, 9.993007048), (0, 10.25))
        make_face()
    boss_extrude1 = extrude(amount=BOSS_EXTRUDE1_DEPTH)

    # CirPattern1: Boss-Extrude1 ×42 about axis
    cirpattern1_axis = Axis((0, 0, 0), (0, -1, 0))
    for i in range(1, CIRPATTERN1_COUNT):
        add(boss_extrude1.rotate(cirpattern1_axis, i * 360 / CIRPATTERN1_COUNT))


solid = part.part
